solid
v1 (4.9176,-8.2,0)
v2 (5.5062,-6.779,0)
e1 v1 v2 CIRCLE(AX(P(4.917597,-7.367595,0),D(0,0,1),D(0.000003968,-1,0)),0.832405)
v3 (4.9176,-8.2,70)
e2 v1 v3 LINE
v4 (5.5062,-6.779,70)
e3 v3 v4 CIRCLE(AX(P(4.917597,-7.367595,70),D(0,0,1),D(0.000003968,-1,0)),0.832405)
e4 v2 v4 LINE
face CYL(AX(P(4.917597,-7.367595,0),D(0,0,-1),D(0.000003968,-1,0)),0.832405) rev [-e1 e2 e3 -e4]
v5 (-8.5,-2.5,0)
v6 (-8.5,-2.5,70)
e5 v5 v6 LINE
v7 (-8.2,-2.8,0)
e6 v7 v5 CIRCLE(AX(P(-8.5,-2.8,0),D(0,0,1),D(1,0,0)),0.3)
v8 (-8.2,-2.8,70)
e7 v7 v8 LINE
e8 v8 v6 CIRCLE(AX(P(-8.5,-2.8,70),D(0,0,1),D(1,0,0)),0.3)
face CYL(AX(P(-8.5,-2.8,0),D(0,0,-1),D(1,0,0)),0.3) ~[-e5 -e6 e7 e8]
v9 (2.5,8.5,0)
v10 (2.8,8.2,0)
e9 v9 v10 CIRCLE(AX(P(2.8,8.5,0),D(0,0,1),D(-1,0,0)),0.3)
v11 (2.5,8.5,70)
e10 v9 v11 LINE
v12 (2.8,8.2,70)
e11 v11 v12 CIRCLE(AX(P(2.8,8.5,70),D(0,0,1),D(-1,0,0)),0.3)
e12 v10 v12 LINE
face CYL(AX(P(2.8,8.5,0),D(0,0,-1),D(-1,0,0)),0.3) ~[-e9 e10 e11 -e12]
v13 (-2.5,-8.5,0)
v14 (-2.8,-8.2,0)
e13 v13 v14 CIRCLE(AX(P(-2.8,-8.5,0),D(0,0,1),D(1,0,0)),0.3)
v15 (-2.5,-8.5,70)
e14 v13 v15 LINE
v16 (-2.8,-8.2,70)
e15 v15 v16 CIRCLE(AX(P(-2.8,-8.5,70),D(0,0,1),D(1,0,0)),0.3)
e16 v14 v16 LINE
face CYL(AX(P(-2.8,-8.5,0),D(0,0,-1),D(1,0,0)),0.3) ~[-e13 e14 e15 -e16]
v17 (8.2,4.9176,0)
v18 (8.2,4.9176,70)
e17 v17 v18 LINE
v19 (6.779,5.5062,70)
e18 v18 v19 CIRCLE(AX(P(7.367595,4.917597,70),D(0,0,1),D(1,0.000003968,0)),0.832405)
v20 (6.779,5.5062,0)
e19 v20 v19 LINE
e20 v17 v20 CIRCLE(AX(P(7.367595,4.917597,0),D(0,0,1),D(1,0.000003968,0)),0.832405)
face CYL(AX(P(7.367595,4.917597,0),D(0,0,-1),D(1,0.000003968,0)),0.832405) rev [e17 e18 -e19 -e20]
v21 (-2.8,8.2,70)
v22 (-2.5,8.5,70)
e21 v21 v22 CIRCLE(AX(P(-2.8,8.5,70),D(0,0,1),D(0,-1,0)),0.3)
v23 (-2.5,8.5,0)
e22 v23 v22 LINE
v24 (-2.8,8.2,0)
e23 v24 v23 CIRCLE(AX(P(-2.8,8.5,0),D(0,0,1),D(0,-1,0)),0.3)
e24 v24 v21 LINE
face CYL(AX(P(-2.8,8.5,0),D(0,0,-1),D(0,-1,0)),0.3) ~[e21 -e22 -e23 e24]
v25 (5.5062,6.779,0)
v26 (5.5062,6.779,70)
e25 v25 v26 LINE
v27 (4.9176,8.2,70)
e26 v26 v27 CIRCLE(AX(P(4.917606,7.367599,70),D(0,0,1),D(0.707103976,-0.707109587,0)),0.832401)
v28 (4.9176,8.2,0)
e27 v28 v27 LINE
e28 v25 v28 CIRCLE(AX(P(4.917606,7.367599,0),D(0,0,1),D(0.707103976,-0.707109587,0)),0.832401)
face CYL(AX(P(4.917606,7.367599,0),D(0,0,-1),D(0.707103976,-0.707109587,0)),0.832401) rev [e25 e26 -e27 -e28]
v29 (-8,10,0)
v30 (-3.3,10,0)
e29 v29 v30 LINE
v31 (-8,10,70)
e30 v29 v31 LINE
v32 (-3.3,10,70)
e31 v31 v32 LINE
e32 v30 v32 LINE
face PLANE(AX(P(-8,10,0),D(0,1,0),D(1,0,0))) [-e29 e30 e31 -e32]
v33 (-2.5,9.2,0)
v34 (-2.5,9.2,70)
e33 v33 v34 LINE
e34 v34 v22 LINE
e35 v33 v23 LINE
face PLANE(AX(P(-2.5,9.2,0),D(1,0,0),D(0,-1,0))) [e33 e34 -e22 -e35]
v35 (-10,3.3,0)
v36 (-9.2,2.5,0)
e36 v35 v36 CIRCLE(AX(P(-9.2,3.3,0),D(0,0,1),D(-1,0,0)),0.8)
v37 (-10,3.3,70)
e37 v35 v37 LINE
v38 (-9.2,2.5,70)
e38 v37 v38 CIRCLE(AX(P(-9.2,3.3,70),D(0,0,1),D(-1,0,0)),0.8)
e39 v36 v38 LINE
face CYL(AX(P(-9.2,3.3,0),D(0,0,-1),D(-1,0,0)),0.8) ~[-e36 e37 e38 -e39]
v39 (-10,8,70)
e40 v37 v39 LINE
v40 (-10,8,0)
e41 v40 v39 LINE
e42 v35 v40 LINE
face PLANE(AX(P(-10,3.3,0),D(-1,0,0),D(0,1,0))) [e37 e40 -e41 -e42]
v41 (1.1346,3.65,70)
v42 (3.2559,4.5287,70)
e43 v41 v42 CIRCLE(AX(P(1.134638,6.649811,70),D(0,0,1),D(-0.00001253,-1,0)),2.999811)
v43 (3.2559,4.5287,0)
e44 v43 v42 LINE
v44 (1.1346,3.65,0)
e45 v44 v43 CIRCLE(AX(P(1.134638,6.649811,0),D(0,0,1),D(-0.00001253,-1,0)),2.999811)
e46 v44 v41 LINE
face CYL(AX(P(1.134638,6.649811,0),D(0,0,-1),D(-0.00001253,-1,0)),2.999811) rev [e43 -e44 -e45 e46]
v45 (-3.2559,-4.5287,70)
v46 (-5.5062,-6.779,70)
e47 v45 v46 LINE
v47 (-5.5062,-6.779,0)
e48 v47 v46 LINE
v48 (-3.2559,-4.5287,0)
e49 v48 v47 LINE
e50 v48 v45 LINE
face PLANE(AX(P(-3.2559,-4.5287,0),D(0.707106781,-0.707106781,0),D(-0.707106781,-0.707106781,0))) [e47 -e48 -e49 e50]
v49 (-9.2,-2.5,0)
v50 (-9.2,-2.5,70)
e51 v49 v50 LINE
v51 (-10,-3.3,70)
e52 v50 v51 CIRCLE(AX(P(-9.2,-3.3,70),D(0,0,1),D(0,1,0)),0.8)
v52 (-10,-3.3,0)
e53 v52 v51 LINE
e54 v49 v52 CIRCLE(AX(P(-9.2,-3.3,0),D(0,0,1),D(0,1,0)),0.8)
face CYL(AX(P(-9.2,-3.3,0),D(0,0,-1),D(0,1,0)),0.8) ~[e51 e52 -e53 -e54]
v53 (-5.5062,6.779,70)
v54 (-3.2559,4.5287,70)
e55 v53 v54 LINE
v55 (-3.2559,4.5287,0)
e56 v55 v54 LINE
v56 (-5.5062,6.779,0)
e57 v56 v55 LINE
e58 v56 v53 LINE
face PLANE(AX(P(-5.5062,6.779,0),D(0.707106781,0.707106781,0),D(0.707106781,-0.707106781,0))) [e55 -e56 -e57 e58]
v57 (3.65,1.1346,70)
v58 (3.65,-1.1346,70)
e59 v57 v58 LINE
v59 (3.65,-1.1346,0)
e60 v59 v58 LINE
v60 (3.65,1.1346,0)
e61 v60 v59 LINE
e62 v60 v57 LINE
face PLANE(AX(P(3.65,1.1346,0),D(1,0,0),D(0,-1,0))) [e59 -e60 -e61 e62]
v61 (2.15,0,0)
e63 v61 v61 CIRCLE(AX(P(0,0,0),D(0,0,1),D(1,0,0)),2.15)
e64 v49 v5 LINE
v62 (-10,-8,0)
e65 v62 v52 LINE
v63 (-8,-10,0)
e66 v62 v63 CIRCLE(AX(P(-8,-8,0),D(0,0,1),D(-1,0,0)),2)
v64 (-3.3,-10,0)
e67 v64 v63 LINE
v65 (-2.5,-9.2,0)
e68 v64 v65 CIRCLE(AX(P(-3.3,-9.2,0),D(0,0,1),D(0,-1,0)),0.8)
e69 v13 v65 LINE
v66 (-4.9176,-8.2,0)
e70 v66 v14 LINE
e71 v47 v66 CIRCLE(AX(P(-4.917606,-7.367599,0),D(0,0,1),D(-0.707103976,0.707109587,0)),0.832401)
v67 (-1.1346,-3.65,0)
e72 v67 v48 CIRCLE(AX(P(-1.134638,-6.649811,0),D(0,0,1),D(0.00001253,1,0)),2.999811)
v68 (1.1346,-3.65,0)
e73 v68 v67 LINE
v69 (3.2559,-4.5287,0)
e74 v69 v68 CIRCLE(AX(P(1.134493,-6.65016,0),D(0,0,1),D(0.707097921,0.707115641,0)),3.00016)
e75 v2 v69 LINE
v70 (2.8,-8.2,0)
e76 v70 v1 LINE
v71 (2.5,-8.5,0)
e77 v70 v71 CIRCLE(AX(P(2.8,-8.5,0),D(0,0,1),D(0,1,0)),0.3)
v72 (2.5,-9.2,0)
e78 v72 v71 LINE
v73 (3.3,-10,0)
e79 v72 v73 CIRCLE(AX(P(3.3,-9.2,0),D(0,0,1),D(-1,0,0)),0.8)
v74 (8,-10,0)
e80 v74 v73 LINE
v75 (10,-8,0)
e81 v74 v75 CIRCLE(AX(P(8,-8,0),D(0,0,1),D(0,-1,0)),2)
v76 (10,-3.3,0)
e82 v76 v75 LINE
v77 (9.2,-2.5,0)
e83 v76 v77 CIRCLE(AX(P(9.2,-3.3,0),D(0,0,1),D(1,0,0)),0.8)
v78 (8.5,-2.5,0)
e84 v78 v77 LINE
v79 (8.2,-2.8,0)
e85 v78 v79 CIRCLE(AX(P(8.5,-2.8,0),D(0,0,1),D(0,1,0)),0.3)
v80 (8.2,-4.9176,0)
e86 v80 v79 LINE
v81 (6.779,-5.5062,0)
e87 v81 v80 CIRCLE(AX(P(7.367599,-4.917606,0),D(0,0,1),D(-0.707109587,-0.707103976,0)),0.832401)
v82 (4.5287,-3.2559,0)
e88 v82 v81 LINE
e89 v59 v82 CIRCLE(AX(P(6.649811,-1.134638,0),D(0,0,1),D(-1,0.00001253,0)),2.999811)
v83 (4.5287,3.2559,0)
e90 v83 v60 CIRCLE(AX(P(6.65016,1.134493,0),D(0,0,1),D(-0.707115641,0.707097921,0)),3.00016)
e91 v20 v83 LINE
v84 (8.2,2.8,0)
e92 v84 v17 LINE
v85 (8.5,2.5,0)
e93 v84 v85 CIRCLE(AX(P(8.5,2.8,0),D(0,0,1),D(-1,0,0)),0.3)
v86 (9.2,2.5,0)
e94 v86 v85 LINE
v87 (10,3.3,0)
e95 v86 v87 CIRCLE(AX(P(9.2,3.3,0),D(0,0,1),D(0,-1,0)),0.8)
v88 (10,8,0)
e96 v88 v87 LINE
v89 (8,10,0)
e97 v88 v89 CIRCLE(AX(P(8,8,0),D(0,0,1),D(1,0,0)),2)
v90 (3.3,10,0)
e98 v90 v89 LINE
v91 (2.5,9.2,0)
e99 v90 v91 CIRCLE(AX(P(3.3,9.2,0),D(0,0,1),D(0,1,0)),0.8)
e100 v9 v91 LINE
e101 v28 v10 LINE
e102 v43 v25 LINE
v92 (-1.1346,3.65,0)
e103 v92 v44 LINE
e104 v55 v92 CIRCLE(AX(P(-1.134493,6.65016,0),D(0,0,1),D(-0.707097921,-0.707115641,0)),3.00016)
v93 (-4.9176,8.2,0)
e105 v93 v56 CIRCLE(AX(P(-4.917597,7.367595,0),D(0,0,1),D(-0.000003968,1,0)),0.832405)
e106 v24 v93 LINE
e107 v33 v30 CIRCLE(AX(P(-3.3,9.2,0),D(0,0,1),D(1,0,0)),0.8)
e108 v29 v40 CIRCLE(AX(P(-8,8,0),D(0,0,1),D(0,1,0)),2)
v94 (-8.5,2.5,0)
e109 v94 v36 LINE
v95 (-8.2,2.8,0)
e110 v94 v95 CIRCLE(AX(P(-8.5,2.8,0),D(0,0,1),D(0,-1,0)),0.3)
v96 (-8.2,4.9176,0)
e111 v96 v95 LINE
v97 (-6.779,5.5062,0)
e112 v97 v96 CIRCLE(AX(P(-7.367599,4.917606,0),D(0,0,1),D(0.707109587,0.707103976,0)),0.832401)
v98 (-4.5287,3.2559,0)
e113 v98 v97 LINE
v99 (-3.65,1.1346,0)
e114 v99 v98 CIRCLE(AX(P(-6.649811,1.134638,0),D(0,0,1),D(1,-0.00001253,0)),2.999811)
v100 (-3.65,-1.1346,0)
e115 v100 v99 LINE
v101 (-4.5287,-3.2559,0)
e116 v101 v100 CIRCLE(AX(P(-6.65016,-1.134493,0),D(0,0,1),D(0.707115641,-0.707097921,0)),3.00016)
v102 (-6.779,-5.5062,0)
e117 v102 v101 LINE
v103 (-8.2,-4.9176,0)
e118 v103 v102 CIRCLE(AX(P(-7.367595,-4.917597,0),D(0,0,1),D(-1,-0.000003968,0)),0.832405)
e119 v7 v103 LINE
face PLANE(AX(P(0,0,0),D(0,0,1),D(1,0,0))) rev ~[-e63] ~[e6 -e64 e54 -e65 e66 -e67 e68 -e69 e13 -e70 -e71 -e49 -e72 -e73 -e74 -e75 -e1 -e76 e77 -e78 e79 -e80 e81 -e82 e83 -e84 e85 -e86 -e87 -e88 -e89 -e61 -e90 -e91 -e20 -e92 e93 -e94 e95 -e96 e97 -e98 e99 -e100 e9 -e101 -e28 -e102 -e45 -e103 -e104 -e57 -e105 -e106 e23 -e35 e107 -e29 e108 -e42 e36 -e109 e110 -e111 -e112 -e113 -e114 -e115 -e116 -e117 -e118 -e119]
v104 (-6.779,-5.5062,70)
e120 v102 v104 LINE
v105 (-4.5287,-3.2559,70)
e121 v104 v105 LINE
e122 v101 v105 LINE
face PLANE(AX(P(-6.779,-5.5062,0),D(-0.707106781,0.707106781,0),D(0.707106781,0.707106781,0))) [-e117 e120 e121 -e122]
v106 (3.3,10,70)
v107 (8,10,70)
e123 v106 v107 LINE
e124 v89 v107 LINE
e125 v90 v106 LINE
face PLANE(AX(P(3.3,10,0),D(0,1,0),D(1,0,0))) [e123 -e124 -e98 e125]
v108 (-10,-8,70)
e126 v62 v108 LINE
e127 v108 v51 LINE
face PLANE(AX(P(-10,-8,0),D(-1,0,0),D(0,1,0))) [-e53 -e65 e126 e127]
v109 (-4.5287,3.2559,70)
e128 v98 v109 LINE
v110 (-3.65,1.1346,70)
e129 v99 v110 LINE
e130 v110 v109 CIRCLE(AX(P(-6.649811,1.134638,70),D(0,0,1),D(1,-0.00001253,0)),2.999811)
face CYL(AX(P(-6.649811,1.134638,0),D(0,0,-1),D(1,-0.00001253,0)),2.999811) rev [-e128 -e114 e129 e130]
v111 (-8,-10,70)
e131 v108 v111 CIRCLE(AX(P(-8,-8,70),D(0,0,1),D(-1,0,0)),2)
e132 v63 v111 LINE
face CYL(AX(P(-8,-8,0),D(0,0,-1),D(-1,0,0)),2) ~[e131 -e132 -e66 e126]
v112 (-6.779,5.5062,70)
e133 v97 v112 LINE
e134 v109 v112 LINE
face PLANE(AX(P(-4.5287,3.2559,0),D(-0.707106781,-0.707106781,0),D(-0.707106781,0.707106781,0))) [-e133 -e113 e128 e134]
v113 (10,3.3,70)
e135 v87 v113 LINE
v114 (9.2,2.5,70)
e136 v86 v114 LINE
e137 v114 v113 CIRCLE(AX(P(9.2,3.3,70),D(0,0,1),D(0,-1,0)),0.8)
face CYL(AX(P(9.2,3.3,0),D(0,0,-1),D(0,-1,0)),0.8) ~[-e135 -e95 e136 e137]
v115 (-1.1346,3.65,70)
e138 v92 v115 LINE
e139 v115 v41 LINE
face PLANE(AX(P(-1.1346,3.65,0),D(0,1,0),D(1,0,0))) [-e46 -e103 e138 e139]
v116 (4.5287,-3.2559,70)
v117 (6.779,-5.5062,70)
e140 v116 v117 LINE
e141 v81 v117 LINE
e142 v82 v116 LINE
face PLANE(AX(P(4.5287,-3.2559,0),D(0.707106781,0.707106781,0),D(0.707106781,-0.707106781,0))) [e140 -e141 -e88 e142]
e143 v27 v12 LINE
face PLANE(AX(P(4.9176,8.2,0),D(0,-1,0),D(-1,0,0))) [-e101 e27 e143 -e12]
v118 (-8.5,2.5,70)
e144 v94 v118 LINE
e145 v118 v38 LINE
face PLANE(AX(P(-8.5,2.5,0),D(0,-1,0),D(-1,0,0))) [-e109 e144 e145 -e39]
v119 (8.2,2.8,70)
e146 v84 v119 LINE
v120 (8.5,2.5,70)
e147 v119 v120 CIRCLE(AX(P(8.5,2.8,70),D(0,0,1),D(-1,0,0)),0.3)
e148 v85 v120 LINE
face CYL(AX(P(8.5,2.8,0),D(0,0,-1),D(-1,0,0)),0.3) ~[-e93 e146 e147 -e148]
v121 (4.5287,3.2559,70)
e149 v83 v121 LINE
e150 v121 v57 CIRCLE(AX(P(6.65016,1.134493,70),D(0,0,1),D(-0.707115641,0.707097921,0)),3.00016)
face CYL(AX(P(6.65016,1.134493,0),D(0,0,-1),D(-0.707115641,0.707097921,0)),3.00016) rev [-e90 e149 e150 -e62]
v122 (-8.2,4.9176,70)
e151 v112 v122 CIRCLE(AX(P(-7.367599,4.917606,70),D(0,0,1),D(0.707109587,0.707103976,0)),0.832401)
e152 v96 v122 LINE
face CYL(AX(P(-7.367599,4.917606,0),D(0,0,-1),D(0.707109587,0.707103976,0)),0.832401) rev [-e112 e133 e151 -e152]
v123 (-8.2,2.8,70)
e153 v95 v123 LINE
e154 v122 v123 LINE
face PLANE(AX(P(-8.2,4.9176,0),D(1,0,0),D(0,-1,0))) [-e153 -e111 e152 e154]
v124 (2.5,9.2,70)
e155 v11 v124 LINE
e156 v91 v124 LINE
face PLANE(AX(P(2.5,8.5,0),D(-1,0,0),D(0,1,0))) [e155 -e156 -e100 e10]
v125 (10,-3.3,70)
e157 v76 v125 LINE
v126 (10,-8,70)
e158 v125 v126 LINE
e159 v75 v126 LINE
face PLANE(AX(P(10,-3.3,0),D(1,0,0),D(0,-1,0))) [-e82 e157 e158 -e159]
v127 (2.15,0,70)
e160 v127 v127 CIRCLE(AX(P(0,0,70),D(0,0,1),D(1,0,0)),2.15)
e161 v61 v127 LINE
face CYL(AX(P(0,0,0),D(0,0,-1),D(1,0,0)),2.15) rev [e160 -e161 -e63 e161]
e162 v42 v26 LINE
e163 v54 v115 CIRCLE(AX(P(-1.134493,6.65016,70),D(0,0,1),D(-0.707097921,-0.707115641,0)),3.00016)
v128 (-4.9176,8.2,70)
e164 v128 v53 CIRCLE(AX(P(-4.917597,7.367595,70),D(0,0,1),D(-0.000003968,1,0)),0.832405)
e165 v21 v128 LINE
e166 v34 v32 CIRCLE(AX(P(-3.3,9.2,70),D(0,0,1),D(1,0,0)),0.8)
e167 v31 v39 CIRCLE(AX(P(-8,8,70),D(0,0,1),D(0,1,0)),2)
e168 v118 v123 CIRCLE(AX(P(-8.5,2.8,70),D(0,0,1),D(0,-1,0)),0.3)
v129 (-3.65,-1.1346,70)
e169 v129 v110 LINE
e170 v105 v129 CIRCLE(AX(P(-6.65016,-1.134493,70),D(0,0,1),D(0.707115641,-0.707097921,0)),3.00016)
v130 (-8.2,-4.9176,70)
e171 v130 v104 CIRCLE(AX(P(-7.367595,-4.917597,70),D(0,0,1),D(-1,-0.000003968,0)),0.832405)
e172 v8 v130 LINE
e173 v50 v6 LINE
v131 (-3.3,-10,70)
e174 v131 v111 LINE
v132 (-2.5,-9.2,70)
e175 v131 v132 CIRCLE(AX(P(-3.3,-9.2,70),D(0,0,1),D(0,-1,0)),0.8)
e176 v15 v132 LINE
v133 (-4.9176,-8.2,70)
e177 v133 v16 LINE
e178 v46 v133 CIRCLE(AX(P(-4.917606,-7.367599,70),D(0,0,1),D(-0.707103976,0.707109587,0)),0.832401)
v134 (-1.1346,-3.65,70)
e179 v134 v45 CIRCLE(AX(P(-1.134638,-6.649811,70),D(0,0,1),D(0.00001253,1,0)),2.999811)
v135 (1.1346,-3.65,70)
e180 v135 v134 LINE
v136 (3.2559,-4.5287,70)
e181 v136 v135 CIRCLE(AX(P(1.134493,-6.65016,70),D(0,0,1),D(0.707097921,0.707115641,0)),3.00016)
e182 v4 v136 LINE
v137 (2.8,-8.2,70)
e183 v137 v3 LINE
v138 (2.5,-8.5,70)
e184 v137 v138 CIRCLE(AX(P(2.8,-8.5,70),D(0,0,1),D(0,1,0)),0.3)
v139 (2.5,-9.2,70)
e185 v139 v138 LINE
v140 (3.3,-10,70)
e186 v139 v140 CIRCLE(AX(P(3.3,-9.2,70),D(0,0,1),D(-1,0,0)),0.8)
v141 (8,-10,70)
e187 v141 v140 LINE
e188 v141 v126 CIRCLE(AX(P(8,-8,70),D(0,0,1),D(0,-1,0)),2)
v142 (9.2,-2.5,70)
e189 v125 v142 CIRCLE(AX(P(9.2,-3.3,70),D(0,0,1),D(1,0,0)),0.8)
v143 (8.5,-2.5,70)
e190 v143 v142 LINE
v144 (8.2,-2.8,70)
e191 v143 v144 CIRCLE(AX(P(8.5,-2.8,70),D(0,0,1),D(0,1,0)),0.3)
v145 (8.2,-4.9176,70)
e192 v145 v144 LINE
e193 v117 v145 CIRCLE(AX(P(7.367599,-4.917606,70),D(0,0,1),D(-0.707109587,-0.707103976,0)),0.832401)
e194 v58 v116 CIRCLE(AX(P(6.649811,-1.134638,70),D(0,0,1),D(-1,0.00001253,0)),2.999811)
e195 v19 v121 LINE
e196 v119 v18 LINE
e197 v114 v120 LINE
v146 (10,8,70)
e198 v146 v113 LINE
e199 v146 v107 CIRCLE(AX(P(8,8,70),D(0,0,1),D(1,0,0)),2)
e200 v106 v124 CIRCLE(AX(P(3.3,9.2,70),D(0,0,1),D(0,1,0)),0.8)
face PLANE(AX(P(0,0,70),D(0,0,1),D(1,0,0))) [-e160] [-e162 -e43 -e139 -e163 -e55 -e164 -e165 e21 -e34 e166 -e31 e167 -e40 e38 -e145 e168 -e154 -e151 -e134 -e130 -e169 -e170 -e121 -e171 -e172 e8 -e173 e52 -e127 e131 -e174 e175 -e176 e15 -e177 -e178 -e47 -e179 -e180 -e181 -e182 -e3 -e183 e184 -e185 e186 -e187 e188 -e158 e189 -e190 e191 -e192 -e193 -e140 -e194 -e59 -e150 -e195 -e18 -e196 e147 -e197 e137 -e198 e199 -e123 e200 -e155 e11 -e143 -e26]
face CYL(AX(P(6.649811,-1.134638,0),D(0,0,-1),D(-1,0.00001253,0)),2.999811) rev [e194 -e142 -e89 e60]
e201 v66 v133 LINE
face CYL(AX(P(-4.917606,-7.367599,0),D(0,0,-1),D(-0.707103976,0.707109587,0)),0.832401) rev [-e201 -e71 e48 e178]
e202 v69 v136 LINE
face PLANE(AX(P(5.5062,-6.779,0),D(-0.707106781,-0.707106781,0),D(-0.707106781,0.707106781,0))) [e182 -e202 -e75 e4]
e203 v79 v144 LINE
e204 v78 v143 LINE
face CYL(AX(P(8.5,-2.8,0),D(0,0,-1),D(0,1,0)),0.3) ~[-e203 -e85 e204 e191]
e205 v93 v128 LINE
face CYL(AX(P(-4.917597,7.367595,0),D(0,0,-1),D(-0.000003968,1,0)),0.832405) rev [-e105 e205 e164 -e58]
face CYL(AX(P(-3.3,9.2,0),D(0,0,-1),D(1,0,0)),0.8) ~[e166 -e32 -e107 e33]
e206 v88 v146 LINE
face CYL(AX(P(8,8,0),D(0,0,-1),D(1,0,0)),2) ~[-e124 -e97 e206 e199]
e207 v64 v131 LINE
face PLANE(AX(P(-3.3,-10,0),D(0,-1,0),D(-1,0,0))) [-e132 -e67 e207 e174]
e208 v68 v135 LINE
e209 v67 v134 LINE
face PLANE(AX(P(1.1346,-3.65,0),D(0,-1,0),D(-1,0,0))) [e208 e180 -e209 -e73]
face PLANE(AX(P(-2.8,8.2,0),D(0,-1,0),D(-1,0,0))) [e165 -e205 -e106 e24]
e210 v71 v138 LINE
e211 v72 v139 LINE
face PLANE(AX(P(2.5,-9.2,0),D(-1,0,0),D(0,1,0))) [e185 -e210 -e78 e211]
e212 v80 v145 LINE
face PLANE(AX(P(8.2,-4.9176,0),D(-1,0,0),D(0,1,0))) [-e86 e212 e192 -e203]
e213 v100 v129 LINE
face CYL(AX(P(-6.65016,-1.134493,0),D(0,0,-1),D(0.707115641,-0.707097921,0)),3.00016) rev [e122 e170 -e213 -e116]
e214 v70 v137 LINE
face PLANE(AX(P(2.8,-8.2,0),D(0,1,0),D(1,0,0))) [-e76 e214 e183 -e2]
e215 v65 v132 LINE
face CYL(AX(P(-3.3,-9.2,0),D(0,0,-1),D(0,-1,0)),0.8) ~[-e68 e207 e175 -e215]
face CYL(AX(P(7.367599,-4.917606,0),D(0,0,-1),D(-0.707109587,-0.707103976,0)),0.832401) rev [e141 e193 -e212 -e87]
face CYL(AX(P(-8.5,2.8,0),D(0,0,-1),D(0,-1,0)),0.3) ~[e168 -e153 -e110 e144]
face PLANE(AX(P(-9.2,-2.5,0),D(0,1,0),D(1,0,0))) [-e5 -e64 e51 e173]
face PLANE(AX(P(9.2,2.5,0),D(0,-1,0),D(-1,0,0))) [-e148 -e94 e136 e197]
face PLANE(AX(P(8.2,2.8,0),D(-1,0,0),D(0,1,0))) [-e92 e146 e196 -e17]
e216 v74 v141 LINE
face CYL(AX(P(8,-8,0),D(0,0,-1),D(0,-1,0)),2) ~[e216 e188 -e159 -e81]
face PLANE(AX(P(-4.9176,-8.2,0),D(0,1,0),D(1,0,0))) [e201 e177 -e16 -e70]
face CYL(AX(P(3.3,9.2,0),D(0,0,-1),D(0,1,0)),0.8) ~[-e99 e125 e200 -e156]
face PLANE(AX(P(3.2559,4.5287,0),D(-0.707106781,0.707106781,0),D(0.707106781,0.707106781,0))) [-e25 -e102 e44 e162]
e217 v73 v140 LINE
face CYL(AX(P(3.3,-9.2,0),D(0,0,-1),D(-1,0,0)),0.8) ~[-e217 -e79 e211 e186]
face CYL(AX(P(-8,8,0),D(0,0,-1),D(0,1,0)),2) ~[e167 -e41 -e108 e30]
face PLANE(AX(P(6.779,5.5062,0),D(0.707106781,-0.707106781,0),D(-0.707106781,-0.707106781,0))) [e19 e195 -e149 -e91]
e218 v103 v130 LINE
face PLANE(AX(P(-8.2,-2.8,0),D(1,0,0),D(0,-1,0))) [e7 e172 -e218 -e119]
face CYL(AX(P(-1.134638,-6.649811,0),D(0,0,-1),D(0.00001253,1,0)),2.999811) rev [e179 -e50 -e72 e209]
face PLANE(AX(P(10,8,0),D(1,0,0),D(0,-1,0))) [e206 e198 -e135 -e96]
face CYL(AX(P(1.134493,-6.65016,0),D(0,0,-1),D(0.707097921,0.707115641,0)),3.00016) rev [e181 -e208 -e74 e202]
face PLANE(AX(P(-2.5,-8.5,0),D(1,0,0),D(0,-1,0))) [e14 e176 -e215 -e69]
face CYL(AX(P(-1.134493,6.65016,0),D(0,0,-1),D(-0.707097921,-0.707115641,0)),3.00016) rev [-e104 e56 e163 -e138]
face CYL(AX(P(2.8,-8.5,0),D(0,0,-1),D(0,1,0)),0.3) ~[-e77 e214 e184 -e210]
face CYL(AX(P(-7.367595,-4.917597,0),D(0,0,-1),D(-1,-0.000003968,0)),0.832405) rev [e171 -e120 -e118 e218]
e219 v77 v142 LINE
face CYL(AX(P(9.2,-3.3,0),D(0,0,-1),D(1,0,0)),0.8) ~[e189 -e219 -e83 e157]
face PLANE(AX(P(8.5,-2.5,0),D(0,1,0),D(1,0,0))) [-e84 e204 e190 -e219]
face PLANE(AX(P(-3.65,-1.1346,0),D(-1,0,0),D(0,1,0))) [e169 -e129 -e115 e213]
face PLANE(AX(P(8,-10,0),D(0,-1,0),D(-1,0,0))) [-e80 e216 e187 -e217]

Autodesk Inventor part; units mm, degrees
ref_plane "YZ Plane" through (0, 0, 0) normal (1, 0, 0) x (0, 1, 0)
ref_plane "Startebene" through (0, 0, 0) normal (0, 0, 1) x (1, 0, 0)
ref_plane "Endebene" through (0, 0, 70) normal (0, 0, 1) x (1, 0, 0)
sketch "Skizze" plane through (0, 0, 0) normal (0, 0, 1) x (1, 0, 0)
  arc A0 (-4.5287, -3.2559) -> (-3.65, -1.1346) centre (-6.65, -1.1346) ccw
  line L0 (-3.65, -1.1346) -> (-3.65, 1.1346)
  circle A1 centre (0, 0) radius 2.15
  line L1 (1.1346, -3.65) -> (-1.1346, -3.65)
  arc A2 (-1.1346, -3.65) -> (-3.2559, -4.5287) centre (-1.1346, -6.65) ccw
  line L2 (-6.779, -5.5062) -> (-4.5287, -3.2559)
  line L3 (-3.2559, -4.5287) -> (-5.5062, -6.779)
  arc A3 (-2.5, -8.5) -> (-2.8, -8.2) centre (-2.8, -8.5) ccw
  line L4 (-2.5, -8.5) -> (-2.5, -9.2)
  line L5 (-4.9176, -8.2) -> (-2.8, -8.2)
  arc A4 (-5.5062, -6.779) -> (-4.9176, -8.2) centre (-4.9176, -7.3676) ccw
  arc A5 (-3.3, -10) -> (-2.5, -9.2) centre (-3.3, -9.2) ccw
  line L6 (-3.3, -10) -> (-8, -10)
  line L7 (10, -3.3) -> (10, -8)
  line L8 (5.5062, -6.779) -> (3.2559, -4.5287)
  arc A6 (6.779, -5.5062) -> (8.2, -4.9176) centre (7.3676, -4.9176) ccw
  arc A7 (3.2559, -4.5287) -> (1.1346, -3.65) centre (1.1346, -6.65) ccw
  line L9 (4.5287, -3.2559) -> (6.779, -5.5062)
  arc A8 (3.65, -1.1346) -> (4.5287, -3.2559) centre (6.65, -1.1346) ccw
  arc A9 (8.5, -2.5) -> (8.2, -2.8) centre (8.5, -2.8) ccw
  line L10 (3.65, 1.1346) -> (3.65, -1.1346)
  line L11 (8.5, -2.5) -> (9.2, -2.5)
  arc A10 (10, -3.3) -> (9.2, -2.5) centre (9.2, -3.3) ccw
  line L12 (8.2, -4.9176) -> (8.2, -2.8)
  line L13 (2.5, 8.5) -> (2.5, 9.2)
  arc A11 (2.5, 8.5) -> (2.8, 8.2) centre (2.8, 8.5) ccw
  arc A12 (1.1346, 3.65) -> (3.2559, 4.5287) centre (1.1346, 6.65) ccw
  line L14 (-1.1346, 3.65) -> (1.1346, 3.65)
  arc A13 (3.3, 10) -> (2.5, 9.2) centre (3.3, 9.2) ccw
  line L15 (4.9176, 8.2) -> (2.8, 8.2)
  arc A14 (4.5287, 3.2559) -> (3.65, 1.1346) centre (6.65, 1.1346) ccw
  line L16 (3.2559, 4.5287) -> (5.5062, 6.779)
  arc A15 (5.5062, 6.779) -> (4.9176, 8.2) centre (4.9176, 7.3676) ccw
  line L17 (6.779, 5.5062) -> (4.5287, 3.2559)
  line L18 (3.3, 10) -> (8, 10)
  arc A16 (10, 8) -> (8, 10) centre (8, 8) ccw
  line L19 (8.2, 2.8) -> (8.2, 4.9176)
  line L20 (10, 8) -> (10, 3.3)
  arc A17 (8.2, 4.9176) -> (6.779, 5.5062) centre (7.3676, 4.9176) ccw
  line L21 (-2.8, 8.2) -> (-4.9176, 8.2)
  line L22 (-2.5, 9.2) -> (-2.5, 8.5)
  arc A18 (-2.5, 9.2) -> (-3.3, 10) centre (-3.3, 9.2) ccw
  arc A19 (-2.8, 8.2) -> (-2.5, 8.5) centre (-2.8, 8.5) ccw
  arc A20 (-3.65, 1.1346) -> (-4.5287, 3.2559) centre (-6.65, 1.1346) ccw
  arc A21 (-3.2559, 4.5287) -> (-1.1346, 3.65) centre (-1.1346, 6.65) ccw
  arc A22 (4.9176, -8.2) -> (5.5062, -6.779) centre (4.9176, -7.3676) ccw
  arc A23 (8, -10) -> (10, -8) centre (8, -8) ccw
  line L23 (2.8, -8.2) -> (4.9176, -8.2)
  line L24 (8, -10) -> (3.3, -10)
  arc A24 (2.8, -8.2) -> (2.5, -8.5) centre (2.8, -8.5) ccw
  arc A25 (2.5, -9.2) -> (3.3, -10) centre (3.3, -9.2) ccw
  line L25 (2.5, -9.2) -> (2.5, -8.5)
  arc A26 (8.2, 2.8) -> (8.5, 2.5) centre (8.5, 2.8) ccw
  line L26 (9.2, 2.5) -> (8.5, 2.5)
  arc A27 (9.2, 2.5) -> (10, 3.3) centre (9.2, 3.3) ccw
  arc A28 (-4.9176, 8.2) -> (-5.5062, 6.779) centre (-4.9176, 7.3676) ccw
  line L27 (-8, 10) -> (-3.3, 10)
  line L28 (-5.5062, 6.779) -> (-3.2559, 4.5287)
  arc A29 (-8, 10) -> (-10, 8) centre (-8, 8) ccw
  arc A30 (-6.779, 5.5062) -> (-8.2, 4.9176) centre (-7.3676, 4.9176) ccw
  line L29 (-10, 3.3) -> (-10, 8)
  line L30 (-8.2, 4.9176) -> (-8.2, 2.8)
  arc A31 (-8.5, 2.5) -> (-8.2, 2.8) centre (-8.5, 2.8) ccw
  line L31 (-8.5, 2.5) -> (-9.2, 2.5)
  arc A32 (-10, 3.3) -> (-9.2, 2.5) centre (-9.2, 3.3) ccw
  line L32 (-4.5287, 3.2559) -> (-6.779, 5.5062)
  line L33 (-10, -8) -> (-10, -3.3)
  arc A33 (-8.2, -4.9176) -> (-6.779, -5.5062) centre (-7.3676, -4.9176) ccw
  arc A34 (-10, -8) -> (-8, -10) centre (-8, -8) ccw
  line L34 (-10, -8) -> (-10, -3.3)
  arc A35 (-8.2, -2.8) -> (-8.5, -2.5) centre (-8.5, -2.8) ccw
  line L35 (-9.2, -2.5) -> (-8.5, -2.5)
  arc A36 (-9.2, -2.5) -> (-10, -3.3) centre (-9.2, -3.3) ccw
  line L36 (-8.2, -2.8) -> (-8.2, -4.9176)
  dimension "d4" = 4.3
  dimension "d5" = 6.35
  dimension "d6" = 10
  dimension "d7" = 2.5
  dimension "d8" = 5.8
  dimension "d9" = 10.5
  dimension "d10" = 3
  dimension "d11" = 7.5
  dimension "d12" = 12.5
  dimension "d13" = 13.65
  dimension "d14" = 5.7
  dimension "d15" = 10.7
  dimension "d16" = 1.15
  dimension "d17" = 6.15
  dimension "d18" = 1.8
  dimension "d19" = 0.8
  dimension "d20" = 0.3
  dimension "d21" = 2
  dimension "d22" = 0.8324
  dimension "d23" = 45
  dimension "d24" = 90
  dimension "d25" = 90
  dimension "d26" = 1.8
  dimension "d27" = 18.2
  dimension "d28" = 20
  dimension "d29" = 5
  dimension "d30" = 7.5
  dimension "d31" = 1.8
  dimension "d32" = 0.9
  dimension "d33" = 0.9
  dimension "d34" = 20
extrude "Körper" add sketch "Skizze" along normal up to surface (70 mm away) from surface at 0
sketch "Skizze6" plane through (0, 0, 0) normal (0, 0, 1) x (1, 0, 0)
  line L0 (0, 0) -> (10, 0)
ref_plane "Arbeitsebene4" through (0, 0, 0) normal (0, -1, 0) x (1, 0, 0)
sketch "Skizze7" plane through (0, 0, 0) normal (0, -1, 0) x (1, 0, 0)
  line L0 (-2, 0) -> (12, 0)
  line L1 (-2, 70) -> (12, 70)
  dimension "d43" = 70
equation "\"G_OFFSET_START\" = 0"
equation "\"G_OFFSET_END\" = 0"
equation "\"G_L\" = d43"
